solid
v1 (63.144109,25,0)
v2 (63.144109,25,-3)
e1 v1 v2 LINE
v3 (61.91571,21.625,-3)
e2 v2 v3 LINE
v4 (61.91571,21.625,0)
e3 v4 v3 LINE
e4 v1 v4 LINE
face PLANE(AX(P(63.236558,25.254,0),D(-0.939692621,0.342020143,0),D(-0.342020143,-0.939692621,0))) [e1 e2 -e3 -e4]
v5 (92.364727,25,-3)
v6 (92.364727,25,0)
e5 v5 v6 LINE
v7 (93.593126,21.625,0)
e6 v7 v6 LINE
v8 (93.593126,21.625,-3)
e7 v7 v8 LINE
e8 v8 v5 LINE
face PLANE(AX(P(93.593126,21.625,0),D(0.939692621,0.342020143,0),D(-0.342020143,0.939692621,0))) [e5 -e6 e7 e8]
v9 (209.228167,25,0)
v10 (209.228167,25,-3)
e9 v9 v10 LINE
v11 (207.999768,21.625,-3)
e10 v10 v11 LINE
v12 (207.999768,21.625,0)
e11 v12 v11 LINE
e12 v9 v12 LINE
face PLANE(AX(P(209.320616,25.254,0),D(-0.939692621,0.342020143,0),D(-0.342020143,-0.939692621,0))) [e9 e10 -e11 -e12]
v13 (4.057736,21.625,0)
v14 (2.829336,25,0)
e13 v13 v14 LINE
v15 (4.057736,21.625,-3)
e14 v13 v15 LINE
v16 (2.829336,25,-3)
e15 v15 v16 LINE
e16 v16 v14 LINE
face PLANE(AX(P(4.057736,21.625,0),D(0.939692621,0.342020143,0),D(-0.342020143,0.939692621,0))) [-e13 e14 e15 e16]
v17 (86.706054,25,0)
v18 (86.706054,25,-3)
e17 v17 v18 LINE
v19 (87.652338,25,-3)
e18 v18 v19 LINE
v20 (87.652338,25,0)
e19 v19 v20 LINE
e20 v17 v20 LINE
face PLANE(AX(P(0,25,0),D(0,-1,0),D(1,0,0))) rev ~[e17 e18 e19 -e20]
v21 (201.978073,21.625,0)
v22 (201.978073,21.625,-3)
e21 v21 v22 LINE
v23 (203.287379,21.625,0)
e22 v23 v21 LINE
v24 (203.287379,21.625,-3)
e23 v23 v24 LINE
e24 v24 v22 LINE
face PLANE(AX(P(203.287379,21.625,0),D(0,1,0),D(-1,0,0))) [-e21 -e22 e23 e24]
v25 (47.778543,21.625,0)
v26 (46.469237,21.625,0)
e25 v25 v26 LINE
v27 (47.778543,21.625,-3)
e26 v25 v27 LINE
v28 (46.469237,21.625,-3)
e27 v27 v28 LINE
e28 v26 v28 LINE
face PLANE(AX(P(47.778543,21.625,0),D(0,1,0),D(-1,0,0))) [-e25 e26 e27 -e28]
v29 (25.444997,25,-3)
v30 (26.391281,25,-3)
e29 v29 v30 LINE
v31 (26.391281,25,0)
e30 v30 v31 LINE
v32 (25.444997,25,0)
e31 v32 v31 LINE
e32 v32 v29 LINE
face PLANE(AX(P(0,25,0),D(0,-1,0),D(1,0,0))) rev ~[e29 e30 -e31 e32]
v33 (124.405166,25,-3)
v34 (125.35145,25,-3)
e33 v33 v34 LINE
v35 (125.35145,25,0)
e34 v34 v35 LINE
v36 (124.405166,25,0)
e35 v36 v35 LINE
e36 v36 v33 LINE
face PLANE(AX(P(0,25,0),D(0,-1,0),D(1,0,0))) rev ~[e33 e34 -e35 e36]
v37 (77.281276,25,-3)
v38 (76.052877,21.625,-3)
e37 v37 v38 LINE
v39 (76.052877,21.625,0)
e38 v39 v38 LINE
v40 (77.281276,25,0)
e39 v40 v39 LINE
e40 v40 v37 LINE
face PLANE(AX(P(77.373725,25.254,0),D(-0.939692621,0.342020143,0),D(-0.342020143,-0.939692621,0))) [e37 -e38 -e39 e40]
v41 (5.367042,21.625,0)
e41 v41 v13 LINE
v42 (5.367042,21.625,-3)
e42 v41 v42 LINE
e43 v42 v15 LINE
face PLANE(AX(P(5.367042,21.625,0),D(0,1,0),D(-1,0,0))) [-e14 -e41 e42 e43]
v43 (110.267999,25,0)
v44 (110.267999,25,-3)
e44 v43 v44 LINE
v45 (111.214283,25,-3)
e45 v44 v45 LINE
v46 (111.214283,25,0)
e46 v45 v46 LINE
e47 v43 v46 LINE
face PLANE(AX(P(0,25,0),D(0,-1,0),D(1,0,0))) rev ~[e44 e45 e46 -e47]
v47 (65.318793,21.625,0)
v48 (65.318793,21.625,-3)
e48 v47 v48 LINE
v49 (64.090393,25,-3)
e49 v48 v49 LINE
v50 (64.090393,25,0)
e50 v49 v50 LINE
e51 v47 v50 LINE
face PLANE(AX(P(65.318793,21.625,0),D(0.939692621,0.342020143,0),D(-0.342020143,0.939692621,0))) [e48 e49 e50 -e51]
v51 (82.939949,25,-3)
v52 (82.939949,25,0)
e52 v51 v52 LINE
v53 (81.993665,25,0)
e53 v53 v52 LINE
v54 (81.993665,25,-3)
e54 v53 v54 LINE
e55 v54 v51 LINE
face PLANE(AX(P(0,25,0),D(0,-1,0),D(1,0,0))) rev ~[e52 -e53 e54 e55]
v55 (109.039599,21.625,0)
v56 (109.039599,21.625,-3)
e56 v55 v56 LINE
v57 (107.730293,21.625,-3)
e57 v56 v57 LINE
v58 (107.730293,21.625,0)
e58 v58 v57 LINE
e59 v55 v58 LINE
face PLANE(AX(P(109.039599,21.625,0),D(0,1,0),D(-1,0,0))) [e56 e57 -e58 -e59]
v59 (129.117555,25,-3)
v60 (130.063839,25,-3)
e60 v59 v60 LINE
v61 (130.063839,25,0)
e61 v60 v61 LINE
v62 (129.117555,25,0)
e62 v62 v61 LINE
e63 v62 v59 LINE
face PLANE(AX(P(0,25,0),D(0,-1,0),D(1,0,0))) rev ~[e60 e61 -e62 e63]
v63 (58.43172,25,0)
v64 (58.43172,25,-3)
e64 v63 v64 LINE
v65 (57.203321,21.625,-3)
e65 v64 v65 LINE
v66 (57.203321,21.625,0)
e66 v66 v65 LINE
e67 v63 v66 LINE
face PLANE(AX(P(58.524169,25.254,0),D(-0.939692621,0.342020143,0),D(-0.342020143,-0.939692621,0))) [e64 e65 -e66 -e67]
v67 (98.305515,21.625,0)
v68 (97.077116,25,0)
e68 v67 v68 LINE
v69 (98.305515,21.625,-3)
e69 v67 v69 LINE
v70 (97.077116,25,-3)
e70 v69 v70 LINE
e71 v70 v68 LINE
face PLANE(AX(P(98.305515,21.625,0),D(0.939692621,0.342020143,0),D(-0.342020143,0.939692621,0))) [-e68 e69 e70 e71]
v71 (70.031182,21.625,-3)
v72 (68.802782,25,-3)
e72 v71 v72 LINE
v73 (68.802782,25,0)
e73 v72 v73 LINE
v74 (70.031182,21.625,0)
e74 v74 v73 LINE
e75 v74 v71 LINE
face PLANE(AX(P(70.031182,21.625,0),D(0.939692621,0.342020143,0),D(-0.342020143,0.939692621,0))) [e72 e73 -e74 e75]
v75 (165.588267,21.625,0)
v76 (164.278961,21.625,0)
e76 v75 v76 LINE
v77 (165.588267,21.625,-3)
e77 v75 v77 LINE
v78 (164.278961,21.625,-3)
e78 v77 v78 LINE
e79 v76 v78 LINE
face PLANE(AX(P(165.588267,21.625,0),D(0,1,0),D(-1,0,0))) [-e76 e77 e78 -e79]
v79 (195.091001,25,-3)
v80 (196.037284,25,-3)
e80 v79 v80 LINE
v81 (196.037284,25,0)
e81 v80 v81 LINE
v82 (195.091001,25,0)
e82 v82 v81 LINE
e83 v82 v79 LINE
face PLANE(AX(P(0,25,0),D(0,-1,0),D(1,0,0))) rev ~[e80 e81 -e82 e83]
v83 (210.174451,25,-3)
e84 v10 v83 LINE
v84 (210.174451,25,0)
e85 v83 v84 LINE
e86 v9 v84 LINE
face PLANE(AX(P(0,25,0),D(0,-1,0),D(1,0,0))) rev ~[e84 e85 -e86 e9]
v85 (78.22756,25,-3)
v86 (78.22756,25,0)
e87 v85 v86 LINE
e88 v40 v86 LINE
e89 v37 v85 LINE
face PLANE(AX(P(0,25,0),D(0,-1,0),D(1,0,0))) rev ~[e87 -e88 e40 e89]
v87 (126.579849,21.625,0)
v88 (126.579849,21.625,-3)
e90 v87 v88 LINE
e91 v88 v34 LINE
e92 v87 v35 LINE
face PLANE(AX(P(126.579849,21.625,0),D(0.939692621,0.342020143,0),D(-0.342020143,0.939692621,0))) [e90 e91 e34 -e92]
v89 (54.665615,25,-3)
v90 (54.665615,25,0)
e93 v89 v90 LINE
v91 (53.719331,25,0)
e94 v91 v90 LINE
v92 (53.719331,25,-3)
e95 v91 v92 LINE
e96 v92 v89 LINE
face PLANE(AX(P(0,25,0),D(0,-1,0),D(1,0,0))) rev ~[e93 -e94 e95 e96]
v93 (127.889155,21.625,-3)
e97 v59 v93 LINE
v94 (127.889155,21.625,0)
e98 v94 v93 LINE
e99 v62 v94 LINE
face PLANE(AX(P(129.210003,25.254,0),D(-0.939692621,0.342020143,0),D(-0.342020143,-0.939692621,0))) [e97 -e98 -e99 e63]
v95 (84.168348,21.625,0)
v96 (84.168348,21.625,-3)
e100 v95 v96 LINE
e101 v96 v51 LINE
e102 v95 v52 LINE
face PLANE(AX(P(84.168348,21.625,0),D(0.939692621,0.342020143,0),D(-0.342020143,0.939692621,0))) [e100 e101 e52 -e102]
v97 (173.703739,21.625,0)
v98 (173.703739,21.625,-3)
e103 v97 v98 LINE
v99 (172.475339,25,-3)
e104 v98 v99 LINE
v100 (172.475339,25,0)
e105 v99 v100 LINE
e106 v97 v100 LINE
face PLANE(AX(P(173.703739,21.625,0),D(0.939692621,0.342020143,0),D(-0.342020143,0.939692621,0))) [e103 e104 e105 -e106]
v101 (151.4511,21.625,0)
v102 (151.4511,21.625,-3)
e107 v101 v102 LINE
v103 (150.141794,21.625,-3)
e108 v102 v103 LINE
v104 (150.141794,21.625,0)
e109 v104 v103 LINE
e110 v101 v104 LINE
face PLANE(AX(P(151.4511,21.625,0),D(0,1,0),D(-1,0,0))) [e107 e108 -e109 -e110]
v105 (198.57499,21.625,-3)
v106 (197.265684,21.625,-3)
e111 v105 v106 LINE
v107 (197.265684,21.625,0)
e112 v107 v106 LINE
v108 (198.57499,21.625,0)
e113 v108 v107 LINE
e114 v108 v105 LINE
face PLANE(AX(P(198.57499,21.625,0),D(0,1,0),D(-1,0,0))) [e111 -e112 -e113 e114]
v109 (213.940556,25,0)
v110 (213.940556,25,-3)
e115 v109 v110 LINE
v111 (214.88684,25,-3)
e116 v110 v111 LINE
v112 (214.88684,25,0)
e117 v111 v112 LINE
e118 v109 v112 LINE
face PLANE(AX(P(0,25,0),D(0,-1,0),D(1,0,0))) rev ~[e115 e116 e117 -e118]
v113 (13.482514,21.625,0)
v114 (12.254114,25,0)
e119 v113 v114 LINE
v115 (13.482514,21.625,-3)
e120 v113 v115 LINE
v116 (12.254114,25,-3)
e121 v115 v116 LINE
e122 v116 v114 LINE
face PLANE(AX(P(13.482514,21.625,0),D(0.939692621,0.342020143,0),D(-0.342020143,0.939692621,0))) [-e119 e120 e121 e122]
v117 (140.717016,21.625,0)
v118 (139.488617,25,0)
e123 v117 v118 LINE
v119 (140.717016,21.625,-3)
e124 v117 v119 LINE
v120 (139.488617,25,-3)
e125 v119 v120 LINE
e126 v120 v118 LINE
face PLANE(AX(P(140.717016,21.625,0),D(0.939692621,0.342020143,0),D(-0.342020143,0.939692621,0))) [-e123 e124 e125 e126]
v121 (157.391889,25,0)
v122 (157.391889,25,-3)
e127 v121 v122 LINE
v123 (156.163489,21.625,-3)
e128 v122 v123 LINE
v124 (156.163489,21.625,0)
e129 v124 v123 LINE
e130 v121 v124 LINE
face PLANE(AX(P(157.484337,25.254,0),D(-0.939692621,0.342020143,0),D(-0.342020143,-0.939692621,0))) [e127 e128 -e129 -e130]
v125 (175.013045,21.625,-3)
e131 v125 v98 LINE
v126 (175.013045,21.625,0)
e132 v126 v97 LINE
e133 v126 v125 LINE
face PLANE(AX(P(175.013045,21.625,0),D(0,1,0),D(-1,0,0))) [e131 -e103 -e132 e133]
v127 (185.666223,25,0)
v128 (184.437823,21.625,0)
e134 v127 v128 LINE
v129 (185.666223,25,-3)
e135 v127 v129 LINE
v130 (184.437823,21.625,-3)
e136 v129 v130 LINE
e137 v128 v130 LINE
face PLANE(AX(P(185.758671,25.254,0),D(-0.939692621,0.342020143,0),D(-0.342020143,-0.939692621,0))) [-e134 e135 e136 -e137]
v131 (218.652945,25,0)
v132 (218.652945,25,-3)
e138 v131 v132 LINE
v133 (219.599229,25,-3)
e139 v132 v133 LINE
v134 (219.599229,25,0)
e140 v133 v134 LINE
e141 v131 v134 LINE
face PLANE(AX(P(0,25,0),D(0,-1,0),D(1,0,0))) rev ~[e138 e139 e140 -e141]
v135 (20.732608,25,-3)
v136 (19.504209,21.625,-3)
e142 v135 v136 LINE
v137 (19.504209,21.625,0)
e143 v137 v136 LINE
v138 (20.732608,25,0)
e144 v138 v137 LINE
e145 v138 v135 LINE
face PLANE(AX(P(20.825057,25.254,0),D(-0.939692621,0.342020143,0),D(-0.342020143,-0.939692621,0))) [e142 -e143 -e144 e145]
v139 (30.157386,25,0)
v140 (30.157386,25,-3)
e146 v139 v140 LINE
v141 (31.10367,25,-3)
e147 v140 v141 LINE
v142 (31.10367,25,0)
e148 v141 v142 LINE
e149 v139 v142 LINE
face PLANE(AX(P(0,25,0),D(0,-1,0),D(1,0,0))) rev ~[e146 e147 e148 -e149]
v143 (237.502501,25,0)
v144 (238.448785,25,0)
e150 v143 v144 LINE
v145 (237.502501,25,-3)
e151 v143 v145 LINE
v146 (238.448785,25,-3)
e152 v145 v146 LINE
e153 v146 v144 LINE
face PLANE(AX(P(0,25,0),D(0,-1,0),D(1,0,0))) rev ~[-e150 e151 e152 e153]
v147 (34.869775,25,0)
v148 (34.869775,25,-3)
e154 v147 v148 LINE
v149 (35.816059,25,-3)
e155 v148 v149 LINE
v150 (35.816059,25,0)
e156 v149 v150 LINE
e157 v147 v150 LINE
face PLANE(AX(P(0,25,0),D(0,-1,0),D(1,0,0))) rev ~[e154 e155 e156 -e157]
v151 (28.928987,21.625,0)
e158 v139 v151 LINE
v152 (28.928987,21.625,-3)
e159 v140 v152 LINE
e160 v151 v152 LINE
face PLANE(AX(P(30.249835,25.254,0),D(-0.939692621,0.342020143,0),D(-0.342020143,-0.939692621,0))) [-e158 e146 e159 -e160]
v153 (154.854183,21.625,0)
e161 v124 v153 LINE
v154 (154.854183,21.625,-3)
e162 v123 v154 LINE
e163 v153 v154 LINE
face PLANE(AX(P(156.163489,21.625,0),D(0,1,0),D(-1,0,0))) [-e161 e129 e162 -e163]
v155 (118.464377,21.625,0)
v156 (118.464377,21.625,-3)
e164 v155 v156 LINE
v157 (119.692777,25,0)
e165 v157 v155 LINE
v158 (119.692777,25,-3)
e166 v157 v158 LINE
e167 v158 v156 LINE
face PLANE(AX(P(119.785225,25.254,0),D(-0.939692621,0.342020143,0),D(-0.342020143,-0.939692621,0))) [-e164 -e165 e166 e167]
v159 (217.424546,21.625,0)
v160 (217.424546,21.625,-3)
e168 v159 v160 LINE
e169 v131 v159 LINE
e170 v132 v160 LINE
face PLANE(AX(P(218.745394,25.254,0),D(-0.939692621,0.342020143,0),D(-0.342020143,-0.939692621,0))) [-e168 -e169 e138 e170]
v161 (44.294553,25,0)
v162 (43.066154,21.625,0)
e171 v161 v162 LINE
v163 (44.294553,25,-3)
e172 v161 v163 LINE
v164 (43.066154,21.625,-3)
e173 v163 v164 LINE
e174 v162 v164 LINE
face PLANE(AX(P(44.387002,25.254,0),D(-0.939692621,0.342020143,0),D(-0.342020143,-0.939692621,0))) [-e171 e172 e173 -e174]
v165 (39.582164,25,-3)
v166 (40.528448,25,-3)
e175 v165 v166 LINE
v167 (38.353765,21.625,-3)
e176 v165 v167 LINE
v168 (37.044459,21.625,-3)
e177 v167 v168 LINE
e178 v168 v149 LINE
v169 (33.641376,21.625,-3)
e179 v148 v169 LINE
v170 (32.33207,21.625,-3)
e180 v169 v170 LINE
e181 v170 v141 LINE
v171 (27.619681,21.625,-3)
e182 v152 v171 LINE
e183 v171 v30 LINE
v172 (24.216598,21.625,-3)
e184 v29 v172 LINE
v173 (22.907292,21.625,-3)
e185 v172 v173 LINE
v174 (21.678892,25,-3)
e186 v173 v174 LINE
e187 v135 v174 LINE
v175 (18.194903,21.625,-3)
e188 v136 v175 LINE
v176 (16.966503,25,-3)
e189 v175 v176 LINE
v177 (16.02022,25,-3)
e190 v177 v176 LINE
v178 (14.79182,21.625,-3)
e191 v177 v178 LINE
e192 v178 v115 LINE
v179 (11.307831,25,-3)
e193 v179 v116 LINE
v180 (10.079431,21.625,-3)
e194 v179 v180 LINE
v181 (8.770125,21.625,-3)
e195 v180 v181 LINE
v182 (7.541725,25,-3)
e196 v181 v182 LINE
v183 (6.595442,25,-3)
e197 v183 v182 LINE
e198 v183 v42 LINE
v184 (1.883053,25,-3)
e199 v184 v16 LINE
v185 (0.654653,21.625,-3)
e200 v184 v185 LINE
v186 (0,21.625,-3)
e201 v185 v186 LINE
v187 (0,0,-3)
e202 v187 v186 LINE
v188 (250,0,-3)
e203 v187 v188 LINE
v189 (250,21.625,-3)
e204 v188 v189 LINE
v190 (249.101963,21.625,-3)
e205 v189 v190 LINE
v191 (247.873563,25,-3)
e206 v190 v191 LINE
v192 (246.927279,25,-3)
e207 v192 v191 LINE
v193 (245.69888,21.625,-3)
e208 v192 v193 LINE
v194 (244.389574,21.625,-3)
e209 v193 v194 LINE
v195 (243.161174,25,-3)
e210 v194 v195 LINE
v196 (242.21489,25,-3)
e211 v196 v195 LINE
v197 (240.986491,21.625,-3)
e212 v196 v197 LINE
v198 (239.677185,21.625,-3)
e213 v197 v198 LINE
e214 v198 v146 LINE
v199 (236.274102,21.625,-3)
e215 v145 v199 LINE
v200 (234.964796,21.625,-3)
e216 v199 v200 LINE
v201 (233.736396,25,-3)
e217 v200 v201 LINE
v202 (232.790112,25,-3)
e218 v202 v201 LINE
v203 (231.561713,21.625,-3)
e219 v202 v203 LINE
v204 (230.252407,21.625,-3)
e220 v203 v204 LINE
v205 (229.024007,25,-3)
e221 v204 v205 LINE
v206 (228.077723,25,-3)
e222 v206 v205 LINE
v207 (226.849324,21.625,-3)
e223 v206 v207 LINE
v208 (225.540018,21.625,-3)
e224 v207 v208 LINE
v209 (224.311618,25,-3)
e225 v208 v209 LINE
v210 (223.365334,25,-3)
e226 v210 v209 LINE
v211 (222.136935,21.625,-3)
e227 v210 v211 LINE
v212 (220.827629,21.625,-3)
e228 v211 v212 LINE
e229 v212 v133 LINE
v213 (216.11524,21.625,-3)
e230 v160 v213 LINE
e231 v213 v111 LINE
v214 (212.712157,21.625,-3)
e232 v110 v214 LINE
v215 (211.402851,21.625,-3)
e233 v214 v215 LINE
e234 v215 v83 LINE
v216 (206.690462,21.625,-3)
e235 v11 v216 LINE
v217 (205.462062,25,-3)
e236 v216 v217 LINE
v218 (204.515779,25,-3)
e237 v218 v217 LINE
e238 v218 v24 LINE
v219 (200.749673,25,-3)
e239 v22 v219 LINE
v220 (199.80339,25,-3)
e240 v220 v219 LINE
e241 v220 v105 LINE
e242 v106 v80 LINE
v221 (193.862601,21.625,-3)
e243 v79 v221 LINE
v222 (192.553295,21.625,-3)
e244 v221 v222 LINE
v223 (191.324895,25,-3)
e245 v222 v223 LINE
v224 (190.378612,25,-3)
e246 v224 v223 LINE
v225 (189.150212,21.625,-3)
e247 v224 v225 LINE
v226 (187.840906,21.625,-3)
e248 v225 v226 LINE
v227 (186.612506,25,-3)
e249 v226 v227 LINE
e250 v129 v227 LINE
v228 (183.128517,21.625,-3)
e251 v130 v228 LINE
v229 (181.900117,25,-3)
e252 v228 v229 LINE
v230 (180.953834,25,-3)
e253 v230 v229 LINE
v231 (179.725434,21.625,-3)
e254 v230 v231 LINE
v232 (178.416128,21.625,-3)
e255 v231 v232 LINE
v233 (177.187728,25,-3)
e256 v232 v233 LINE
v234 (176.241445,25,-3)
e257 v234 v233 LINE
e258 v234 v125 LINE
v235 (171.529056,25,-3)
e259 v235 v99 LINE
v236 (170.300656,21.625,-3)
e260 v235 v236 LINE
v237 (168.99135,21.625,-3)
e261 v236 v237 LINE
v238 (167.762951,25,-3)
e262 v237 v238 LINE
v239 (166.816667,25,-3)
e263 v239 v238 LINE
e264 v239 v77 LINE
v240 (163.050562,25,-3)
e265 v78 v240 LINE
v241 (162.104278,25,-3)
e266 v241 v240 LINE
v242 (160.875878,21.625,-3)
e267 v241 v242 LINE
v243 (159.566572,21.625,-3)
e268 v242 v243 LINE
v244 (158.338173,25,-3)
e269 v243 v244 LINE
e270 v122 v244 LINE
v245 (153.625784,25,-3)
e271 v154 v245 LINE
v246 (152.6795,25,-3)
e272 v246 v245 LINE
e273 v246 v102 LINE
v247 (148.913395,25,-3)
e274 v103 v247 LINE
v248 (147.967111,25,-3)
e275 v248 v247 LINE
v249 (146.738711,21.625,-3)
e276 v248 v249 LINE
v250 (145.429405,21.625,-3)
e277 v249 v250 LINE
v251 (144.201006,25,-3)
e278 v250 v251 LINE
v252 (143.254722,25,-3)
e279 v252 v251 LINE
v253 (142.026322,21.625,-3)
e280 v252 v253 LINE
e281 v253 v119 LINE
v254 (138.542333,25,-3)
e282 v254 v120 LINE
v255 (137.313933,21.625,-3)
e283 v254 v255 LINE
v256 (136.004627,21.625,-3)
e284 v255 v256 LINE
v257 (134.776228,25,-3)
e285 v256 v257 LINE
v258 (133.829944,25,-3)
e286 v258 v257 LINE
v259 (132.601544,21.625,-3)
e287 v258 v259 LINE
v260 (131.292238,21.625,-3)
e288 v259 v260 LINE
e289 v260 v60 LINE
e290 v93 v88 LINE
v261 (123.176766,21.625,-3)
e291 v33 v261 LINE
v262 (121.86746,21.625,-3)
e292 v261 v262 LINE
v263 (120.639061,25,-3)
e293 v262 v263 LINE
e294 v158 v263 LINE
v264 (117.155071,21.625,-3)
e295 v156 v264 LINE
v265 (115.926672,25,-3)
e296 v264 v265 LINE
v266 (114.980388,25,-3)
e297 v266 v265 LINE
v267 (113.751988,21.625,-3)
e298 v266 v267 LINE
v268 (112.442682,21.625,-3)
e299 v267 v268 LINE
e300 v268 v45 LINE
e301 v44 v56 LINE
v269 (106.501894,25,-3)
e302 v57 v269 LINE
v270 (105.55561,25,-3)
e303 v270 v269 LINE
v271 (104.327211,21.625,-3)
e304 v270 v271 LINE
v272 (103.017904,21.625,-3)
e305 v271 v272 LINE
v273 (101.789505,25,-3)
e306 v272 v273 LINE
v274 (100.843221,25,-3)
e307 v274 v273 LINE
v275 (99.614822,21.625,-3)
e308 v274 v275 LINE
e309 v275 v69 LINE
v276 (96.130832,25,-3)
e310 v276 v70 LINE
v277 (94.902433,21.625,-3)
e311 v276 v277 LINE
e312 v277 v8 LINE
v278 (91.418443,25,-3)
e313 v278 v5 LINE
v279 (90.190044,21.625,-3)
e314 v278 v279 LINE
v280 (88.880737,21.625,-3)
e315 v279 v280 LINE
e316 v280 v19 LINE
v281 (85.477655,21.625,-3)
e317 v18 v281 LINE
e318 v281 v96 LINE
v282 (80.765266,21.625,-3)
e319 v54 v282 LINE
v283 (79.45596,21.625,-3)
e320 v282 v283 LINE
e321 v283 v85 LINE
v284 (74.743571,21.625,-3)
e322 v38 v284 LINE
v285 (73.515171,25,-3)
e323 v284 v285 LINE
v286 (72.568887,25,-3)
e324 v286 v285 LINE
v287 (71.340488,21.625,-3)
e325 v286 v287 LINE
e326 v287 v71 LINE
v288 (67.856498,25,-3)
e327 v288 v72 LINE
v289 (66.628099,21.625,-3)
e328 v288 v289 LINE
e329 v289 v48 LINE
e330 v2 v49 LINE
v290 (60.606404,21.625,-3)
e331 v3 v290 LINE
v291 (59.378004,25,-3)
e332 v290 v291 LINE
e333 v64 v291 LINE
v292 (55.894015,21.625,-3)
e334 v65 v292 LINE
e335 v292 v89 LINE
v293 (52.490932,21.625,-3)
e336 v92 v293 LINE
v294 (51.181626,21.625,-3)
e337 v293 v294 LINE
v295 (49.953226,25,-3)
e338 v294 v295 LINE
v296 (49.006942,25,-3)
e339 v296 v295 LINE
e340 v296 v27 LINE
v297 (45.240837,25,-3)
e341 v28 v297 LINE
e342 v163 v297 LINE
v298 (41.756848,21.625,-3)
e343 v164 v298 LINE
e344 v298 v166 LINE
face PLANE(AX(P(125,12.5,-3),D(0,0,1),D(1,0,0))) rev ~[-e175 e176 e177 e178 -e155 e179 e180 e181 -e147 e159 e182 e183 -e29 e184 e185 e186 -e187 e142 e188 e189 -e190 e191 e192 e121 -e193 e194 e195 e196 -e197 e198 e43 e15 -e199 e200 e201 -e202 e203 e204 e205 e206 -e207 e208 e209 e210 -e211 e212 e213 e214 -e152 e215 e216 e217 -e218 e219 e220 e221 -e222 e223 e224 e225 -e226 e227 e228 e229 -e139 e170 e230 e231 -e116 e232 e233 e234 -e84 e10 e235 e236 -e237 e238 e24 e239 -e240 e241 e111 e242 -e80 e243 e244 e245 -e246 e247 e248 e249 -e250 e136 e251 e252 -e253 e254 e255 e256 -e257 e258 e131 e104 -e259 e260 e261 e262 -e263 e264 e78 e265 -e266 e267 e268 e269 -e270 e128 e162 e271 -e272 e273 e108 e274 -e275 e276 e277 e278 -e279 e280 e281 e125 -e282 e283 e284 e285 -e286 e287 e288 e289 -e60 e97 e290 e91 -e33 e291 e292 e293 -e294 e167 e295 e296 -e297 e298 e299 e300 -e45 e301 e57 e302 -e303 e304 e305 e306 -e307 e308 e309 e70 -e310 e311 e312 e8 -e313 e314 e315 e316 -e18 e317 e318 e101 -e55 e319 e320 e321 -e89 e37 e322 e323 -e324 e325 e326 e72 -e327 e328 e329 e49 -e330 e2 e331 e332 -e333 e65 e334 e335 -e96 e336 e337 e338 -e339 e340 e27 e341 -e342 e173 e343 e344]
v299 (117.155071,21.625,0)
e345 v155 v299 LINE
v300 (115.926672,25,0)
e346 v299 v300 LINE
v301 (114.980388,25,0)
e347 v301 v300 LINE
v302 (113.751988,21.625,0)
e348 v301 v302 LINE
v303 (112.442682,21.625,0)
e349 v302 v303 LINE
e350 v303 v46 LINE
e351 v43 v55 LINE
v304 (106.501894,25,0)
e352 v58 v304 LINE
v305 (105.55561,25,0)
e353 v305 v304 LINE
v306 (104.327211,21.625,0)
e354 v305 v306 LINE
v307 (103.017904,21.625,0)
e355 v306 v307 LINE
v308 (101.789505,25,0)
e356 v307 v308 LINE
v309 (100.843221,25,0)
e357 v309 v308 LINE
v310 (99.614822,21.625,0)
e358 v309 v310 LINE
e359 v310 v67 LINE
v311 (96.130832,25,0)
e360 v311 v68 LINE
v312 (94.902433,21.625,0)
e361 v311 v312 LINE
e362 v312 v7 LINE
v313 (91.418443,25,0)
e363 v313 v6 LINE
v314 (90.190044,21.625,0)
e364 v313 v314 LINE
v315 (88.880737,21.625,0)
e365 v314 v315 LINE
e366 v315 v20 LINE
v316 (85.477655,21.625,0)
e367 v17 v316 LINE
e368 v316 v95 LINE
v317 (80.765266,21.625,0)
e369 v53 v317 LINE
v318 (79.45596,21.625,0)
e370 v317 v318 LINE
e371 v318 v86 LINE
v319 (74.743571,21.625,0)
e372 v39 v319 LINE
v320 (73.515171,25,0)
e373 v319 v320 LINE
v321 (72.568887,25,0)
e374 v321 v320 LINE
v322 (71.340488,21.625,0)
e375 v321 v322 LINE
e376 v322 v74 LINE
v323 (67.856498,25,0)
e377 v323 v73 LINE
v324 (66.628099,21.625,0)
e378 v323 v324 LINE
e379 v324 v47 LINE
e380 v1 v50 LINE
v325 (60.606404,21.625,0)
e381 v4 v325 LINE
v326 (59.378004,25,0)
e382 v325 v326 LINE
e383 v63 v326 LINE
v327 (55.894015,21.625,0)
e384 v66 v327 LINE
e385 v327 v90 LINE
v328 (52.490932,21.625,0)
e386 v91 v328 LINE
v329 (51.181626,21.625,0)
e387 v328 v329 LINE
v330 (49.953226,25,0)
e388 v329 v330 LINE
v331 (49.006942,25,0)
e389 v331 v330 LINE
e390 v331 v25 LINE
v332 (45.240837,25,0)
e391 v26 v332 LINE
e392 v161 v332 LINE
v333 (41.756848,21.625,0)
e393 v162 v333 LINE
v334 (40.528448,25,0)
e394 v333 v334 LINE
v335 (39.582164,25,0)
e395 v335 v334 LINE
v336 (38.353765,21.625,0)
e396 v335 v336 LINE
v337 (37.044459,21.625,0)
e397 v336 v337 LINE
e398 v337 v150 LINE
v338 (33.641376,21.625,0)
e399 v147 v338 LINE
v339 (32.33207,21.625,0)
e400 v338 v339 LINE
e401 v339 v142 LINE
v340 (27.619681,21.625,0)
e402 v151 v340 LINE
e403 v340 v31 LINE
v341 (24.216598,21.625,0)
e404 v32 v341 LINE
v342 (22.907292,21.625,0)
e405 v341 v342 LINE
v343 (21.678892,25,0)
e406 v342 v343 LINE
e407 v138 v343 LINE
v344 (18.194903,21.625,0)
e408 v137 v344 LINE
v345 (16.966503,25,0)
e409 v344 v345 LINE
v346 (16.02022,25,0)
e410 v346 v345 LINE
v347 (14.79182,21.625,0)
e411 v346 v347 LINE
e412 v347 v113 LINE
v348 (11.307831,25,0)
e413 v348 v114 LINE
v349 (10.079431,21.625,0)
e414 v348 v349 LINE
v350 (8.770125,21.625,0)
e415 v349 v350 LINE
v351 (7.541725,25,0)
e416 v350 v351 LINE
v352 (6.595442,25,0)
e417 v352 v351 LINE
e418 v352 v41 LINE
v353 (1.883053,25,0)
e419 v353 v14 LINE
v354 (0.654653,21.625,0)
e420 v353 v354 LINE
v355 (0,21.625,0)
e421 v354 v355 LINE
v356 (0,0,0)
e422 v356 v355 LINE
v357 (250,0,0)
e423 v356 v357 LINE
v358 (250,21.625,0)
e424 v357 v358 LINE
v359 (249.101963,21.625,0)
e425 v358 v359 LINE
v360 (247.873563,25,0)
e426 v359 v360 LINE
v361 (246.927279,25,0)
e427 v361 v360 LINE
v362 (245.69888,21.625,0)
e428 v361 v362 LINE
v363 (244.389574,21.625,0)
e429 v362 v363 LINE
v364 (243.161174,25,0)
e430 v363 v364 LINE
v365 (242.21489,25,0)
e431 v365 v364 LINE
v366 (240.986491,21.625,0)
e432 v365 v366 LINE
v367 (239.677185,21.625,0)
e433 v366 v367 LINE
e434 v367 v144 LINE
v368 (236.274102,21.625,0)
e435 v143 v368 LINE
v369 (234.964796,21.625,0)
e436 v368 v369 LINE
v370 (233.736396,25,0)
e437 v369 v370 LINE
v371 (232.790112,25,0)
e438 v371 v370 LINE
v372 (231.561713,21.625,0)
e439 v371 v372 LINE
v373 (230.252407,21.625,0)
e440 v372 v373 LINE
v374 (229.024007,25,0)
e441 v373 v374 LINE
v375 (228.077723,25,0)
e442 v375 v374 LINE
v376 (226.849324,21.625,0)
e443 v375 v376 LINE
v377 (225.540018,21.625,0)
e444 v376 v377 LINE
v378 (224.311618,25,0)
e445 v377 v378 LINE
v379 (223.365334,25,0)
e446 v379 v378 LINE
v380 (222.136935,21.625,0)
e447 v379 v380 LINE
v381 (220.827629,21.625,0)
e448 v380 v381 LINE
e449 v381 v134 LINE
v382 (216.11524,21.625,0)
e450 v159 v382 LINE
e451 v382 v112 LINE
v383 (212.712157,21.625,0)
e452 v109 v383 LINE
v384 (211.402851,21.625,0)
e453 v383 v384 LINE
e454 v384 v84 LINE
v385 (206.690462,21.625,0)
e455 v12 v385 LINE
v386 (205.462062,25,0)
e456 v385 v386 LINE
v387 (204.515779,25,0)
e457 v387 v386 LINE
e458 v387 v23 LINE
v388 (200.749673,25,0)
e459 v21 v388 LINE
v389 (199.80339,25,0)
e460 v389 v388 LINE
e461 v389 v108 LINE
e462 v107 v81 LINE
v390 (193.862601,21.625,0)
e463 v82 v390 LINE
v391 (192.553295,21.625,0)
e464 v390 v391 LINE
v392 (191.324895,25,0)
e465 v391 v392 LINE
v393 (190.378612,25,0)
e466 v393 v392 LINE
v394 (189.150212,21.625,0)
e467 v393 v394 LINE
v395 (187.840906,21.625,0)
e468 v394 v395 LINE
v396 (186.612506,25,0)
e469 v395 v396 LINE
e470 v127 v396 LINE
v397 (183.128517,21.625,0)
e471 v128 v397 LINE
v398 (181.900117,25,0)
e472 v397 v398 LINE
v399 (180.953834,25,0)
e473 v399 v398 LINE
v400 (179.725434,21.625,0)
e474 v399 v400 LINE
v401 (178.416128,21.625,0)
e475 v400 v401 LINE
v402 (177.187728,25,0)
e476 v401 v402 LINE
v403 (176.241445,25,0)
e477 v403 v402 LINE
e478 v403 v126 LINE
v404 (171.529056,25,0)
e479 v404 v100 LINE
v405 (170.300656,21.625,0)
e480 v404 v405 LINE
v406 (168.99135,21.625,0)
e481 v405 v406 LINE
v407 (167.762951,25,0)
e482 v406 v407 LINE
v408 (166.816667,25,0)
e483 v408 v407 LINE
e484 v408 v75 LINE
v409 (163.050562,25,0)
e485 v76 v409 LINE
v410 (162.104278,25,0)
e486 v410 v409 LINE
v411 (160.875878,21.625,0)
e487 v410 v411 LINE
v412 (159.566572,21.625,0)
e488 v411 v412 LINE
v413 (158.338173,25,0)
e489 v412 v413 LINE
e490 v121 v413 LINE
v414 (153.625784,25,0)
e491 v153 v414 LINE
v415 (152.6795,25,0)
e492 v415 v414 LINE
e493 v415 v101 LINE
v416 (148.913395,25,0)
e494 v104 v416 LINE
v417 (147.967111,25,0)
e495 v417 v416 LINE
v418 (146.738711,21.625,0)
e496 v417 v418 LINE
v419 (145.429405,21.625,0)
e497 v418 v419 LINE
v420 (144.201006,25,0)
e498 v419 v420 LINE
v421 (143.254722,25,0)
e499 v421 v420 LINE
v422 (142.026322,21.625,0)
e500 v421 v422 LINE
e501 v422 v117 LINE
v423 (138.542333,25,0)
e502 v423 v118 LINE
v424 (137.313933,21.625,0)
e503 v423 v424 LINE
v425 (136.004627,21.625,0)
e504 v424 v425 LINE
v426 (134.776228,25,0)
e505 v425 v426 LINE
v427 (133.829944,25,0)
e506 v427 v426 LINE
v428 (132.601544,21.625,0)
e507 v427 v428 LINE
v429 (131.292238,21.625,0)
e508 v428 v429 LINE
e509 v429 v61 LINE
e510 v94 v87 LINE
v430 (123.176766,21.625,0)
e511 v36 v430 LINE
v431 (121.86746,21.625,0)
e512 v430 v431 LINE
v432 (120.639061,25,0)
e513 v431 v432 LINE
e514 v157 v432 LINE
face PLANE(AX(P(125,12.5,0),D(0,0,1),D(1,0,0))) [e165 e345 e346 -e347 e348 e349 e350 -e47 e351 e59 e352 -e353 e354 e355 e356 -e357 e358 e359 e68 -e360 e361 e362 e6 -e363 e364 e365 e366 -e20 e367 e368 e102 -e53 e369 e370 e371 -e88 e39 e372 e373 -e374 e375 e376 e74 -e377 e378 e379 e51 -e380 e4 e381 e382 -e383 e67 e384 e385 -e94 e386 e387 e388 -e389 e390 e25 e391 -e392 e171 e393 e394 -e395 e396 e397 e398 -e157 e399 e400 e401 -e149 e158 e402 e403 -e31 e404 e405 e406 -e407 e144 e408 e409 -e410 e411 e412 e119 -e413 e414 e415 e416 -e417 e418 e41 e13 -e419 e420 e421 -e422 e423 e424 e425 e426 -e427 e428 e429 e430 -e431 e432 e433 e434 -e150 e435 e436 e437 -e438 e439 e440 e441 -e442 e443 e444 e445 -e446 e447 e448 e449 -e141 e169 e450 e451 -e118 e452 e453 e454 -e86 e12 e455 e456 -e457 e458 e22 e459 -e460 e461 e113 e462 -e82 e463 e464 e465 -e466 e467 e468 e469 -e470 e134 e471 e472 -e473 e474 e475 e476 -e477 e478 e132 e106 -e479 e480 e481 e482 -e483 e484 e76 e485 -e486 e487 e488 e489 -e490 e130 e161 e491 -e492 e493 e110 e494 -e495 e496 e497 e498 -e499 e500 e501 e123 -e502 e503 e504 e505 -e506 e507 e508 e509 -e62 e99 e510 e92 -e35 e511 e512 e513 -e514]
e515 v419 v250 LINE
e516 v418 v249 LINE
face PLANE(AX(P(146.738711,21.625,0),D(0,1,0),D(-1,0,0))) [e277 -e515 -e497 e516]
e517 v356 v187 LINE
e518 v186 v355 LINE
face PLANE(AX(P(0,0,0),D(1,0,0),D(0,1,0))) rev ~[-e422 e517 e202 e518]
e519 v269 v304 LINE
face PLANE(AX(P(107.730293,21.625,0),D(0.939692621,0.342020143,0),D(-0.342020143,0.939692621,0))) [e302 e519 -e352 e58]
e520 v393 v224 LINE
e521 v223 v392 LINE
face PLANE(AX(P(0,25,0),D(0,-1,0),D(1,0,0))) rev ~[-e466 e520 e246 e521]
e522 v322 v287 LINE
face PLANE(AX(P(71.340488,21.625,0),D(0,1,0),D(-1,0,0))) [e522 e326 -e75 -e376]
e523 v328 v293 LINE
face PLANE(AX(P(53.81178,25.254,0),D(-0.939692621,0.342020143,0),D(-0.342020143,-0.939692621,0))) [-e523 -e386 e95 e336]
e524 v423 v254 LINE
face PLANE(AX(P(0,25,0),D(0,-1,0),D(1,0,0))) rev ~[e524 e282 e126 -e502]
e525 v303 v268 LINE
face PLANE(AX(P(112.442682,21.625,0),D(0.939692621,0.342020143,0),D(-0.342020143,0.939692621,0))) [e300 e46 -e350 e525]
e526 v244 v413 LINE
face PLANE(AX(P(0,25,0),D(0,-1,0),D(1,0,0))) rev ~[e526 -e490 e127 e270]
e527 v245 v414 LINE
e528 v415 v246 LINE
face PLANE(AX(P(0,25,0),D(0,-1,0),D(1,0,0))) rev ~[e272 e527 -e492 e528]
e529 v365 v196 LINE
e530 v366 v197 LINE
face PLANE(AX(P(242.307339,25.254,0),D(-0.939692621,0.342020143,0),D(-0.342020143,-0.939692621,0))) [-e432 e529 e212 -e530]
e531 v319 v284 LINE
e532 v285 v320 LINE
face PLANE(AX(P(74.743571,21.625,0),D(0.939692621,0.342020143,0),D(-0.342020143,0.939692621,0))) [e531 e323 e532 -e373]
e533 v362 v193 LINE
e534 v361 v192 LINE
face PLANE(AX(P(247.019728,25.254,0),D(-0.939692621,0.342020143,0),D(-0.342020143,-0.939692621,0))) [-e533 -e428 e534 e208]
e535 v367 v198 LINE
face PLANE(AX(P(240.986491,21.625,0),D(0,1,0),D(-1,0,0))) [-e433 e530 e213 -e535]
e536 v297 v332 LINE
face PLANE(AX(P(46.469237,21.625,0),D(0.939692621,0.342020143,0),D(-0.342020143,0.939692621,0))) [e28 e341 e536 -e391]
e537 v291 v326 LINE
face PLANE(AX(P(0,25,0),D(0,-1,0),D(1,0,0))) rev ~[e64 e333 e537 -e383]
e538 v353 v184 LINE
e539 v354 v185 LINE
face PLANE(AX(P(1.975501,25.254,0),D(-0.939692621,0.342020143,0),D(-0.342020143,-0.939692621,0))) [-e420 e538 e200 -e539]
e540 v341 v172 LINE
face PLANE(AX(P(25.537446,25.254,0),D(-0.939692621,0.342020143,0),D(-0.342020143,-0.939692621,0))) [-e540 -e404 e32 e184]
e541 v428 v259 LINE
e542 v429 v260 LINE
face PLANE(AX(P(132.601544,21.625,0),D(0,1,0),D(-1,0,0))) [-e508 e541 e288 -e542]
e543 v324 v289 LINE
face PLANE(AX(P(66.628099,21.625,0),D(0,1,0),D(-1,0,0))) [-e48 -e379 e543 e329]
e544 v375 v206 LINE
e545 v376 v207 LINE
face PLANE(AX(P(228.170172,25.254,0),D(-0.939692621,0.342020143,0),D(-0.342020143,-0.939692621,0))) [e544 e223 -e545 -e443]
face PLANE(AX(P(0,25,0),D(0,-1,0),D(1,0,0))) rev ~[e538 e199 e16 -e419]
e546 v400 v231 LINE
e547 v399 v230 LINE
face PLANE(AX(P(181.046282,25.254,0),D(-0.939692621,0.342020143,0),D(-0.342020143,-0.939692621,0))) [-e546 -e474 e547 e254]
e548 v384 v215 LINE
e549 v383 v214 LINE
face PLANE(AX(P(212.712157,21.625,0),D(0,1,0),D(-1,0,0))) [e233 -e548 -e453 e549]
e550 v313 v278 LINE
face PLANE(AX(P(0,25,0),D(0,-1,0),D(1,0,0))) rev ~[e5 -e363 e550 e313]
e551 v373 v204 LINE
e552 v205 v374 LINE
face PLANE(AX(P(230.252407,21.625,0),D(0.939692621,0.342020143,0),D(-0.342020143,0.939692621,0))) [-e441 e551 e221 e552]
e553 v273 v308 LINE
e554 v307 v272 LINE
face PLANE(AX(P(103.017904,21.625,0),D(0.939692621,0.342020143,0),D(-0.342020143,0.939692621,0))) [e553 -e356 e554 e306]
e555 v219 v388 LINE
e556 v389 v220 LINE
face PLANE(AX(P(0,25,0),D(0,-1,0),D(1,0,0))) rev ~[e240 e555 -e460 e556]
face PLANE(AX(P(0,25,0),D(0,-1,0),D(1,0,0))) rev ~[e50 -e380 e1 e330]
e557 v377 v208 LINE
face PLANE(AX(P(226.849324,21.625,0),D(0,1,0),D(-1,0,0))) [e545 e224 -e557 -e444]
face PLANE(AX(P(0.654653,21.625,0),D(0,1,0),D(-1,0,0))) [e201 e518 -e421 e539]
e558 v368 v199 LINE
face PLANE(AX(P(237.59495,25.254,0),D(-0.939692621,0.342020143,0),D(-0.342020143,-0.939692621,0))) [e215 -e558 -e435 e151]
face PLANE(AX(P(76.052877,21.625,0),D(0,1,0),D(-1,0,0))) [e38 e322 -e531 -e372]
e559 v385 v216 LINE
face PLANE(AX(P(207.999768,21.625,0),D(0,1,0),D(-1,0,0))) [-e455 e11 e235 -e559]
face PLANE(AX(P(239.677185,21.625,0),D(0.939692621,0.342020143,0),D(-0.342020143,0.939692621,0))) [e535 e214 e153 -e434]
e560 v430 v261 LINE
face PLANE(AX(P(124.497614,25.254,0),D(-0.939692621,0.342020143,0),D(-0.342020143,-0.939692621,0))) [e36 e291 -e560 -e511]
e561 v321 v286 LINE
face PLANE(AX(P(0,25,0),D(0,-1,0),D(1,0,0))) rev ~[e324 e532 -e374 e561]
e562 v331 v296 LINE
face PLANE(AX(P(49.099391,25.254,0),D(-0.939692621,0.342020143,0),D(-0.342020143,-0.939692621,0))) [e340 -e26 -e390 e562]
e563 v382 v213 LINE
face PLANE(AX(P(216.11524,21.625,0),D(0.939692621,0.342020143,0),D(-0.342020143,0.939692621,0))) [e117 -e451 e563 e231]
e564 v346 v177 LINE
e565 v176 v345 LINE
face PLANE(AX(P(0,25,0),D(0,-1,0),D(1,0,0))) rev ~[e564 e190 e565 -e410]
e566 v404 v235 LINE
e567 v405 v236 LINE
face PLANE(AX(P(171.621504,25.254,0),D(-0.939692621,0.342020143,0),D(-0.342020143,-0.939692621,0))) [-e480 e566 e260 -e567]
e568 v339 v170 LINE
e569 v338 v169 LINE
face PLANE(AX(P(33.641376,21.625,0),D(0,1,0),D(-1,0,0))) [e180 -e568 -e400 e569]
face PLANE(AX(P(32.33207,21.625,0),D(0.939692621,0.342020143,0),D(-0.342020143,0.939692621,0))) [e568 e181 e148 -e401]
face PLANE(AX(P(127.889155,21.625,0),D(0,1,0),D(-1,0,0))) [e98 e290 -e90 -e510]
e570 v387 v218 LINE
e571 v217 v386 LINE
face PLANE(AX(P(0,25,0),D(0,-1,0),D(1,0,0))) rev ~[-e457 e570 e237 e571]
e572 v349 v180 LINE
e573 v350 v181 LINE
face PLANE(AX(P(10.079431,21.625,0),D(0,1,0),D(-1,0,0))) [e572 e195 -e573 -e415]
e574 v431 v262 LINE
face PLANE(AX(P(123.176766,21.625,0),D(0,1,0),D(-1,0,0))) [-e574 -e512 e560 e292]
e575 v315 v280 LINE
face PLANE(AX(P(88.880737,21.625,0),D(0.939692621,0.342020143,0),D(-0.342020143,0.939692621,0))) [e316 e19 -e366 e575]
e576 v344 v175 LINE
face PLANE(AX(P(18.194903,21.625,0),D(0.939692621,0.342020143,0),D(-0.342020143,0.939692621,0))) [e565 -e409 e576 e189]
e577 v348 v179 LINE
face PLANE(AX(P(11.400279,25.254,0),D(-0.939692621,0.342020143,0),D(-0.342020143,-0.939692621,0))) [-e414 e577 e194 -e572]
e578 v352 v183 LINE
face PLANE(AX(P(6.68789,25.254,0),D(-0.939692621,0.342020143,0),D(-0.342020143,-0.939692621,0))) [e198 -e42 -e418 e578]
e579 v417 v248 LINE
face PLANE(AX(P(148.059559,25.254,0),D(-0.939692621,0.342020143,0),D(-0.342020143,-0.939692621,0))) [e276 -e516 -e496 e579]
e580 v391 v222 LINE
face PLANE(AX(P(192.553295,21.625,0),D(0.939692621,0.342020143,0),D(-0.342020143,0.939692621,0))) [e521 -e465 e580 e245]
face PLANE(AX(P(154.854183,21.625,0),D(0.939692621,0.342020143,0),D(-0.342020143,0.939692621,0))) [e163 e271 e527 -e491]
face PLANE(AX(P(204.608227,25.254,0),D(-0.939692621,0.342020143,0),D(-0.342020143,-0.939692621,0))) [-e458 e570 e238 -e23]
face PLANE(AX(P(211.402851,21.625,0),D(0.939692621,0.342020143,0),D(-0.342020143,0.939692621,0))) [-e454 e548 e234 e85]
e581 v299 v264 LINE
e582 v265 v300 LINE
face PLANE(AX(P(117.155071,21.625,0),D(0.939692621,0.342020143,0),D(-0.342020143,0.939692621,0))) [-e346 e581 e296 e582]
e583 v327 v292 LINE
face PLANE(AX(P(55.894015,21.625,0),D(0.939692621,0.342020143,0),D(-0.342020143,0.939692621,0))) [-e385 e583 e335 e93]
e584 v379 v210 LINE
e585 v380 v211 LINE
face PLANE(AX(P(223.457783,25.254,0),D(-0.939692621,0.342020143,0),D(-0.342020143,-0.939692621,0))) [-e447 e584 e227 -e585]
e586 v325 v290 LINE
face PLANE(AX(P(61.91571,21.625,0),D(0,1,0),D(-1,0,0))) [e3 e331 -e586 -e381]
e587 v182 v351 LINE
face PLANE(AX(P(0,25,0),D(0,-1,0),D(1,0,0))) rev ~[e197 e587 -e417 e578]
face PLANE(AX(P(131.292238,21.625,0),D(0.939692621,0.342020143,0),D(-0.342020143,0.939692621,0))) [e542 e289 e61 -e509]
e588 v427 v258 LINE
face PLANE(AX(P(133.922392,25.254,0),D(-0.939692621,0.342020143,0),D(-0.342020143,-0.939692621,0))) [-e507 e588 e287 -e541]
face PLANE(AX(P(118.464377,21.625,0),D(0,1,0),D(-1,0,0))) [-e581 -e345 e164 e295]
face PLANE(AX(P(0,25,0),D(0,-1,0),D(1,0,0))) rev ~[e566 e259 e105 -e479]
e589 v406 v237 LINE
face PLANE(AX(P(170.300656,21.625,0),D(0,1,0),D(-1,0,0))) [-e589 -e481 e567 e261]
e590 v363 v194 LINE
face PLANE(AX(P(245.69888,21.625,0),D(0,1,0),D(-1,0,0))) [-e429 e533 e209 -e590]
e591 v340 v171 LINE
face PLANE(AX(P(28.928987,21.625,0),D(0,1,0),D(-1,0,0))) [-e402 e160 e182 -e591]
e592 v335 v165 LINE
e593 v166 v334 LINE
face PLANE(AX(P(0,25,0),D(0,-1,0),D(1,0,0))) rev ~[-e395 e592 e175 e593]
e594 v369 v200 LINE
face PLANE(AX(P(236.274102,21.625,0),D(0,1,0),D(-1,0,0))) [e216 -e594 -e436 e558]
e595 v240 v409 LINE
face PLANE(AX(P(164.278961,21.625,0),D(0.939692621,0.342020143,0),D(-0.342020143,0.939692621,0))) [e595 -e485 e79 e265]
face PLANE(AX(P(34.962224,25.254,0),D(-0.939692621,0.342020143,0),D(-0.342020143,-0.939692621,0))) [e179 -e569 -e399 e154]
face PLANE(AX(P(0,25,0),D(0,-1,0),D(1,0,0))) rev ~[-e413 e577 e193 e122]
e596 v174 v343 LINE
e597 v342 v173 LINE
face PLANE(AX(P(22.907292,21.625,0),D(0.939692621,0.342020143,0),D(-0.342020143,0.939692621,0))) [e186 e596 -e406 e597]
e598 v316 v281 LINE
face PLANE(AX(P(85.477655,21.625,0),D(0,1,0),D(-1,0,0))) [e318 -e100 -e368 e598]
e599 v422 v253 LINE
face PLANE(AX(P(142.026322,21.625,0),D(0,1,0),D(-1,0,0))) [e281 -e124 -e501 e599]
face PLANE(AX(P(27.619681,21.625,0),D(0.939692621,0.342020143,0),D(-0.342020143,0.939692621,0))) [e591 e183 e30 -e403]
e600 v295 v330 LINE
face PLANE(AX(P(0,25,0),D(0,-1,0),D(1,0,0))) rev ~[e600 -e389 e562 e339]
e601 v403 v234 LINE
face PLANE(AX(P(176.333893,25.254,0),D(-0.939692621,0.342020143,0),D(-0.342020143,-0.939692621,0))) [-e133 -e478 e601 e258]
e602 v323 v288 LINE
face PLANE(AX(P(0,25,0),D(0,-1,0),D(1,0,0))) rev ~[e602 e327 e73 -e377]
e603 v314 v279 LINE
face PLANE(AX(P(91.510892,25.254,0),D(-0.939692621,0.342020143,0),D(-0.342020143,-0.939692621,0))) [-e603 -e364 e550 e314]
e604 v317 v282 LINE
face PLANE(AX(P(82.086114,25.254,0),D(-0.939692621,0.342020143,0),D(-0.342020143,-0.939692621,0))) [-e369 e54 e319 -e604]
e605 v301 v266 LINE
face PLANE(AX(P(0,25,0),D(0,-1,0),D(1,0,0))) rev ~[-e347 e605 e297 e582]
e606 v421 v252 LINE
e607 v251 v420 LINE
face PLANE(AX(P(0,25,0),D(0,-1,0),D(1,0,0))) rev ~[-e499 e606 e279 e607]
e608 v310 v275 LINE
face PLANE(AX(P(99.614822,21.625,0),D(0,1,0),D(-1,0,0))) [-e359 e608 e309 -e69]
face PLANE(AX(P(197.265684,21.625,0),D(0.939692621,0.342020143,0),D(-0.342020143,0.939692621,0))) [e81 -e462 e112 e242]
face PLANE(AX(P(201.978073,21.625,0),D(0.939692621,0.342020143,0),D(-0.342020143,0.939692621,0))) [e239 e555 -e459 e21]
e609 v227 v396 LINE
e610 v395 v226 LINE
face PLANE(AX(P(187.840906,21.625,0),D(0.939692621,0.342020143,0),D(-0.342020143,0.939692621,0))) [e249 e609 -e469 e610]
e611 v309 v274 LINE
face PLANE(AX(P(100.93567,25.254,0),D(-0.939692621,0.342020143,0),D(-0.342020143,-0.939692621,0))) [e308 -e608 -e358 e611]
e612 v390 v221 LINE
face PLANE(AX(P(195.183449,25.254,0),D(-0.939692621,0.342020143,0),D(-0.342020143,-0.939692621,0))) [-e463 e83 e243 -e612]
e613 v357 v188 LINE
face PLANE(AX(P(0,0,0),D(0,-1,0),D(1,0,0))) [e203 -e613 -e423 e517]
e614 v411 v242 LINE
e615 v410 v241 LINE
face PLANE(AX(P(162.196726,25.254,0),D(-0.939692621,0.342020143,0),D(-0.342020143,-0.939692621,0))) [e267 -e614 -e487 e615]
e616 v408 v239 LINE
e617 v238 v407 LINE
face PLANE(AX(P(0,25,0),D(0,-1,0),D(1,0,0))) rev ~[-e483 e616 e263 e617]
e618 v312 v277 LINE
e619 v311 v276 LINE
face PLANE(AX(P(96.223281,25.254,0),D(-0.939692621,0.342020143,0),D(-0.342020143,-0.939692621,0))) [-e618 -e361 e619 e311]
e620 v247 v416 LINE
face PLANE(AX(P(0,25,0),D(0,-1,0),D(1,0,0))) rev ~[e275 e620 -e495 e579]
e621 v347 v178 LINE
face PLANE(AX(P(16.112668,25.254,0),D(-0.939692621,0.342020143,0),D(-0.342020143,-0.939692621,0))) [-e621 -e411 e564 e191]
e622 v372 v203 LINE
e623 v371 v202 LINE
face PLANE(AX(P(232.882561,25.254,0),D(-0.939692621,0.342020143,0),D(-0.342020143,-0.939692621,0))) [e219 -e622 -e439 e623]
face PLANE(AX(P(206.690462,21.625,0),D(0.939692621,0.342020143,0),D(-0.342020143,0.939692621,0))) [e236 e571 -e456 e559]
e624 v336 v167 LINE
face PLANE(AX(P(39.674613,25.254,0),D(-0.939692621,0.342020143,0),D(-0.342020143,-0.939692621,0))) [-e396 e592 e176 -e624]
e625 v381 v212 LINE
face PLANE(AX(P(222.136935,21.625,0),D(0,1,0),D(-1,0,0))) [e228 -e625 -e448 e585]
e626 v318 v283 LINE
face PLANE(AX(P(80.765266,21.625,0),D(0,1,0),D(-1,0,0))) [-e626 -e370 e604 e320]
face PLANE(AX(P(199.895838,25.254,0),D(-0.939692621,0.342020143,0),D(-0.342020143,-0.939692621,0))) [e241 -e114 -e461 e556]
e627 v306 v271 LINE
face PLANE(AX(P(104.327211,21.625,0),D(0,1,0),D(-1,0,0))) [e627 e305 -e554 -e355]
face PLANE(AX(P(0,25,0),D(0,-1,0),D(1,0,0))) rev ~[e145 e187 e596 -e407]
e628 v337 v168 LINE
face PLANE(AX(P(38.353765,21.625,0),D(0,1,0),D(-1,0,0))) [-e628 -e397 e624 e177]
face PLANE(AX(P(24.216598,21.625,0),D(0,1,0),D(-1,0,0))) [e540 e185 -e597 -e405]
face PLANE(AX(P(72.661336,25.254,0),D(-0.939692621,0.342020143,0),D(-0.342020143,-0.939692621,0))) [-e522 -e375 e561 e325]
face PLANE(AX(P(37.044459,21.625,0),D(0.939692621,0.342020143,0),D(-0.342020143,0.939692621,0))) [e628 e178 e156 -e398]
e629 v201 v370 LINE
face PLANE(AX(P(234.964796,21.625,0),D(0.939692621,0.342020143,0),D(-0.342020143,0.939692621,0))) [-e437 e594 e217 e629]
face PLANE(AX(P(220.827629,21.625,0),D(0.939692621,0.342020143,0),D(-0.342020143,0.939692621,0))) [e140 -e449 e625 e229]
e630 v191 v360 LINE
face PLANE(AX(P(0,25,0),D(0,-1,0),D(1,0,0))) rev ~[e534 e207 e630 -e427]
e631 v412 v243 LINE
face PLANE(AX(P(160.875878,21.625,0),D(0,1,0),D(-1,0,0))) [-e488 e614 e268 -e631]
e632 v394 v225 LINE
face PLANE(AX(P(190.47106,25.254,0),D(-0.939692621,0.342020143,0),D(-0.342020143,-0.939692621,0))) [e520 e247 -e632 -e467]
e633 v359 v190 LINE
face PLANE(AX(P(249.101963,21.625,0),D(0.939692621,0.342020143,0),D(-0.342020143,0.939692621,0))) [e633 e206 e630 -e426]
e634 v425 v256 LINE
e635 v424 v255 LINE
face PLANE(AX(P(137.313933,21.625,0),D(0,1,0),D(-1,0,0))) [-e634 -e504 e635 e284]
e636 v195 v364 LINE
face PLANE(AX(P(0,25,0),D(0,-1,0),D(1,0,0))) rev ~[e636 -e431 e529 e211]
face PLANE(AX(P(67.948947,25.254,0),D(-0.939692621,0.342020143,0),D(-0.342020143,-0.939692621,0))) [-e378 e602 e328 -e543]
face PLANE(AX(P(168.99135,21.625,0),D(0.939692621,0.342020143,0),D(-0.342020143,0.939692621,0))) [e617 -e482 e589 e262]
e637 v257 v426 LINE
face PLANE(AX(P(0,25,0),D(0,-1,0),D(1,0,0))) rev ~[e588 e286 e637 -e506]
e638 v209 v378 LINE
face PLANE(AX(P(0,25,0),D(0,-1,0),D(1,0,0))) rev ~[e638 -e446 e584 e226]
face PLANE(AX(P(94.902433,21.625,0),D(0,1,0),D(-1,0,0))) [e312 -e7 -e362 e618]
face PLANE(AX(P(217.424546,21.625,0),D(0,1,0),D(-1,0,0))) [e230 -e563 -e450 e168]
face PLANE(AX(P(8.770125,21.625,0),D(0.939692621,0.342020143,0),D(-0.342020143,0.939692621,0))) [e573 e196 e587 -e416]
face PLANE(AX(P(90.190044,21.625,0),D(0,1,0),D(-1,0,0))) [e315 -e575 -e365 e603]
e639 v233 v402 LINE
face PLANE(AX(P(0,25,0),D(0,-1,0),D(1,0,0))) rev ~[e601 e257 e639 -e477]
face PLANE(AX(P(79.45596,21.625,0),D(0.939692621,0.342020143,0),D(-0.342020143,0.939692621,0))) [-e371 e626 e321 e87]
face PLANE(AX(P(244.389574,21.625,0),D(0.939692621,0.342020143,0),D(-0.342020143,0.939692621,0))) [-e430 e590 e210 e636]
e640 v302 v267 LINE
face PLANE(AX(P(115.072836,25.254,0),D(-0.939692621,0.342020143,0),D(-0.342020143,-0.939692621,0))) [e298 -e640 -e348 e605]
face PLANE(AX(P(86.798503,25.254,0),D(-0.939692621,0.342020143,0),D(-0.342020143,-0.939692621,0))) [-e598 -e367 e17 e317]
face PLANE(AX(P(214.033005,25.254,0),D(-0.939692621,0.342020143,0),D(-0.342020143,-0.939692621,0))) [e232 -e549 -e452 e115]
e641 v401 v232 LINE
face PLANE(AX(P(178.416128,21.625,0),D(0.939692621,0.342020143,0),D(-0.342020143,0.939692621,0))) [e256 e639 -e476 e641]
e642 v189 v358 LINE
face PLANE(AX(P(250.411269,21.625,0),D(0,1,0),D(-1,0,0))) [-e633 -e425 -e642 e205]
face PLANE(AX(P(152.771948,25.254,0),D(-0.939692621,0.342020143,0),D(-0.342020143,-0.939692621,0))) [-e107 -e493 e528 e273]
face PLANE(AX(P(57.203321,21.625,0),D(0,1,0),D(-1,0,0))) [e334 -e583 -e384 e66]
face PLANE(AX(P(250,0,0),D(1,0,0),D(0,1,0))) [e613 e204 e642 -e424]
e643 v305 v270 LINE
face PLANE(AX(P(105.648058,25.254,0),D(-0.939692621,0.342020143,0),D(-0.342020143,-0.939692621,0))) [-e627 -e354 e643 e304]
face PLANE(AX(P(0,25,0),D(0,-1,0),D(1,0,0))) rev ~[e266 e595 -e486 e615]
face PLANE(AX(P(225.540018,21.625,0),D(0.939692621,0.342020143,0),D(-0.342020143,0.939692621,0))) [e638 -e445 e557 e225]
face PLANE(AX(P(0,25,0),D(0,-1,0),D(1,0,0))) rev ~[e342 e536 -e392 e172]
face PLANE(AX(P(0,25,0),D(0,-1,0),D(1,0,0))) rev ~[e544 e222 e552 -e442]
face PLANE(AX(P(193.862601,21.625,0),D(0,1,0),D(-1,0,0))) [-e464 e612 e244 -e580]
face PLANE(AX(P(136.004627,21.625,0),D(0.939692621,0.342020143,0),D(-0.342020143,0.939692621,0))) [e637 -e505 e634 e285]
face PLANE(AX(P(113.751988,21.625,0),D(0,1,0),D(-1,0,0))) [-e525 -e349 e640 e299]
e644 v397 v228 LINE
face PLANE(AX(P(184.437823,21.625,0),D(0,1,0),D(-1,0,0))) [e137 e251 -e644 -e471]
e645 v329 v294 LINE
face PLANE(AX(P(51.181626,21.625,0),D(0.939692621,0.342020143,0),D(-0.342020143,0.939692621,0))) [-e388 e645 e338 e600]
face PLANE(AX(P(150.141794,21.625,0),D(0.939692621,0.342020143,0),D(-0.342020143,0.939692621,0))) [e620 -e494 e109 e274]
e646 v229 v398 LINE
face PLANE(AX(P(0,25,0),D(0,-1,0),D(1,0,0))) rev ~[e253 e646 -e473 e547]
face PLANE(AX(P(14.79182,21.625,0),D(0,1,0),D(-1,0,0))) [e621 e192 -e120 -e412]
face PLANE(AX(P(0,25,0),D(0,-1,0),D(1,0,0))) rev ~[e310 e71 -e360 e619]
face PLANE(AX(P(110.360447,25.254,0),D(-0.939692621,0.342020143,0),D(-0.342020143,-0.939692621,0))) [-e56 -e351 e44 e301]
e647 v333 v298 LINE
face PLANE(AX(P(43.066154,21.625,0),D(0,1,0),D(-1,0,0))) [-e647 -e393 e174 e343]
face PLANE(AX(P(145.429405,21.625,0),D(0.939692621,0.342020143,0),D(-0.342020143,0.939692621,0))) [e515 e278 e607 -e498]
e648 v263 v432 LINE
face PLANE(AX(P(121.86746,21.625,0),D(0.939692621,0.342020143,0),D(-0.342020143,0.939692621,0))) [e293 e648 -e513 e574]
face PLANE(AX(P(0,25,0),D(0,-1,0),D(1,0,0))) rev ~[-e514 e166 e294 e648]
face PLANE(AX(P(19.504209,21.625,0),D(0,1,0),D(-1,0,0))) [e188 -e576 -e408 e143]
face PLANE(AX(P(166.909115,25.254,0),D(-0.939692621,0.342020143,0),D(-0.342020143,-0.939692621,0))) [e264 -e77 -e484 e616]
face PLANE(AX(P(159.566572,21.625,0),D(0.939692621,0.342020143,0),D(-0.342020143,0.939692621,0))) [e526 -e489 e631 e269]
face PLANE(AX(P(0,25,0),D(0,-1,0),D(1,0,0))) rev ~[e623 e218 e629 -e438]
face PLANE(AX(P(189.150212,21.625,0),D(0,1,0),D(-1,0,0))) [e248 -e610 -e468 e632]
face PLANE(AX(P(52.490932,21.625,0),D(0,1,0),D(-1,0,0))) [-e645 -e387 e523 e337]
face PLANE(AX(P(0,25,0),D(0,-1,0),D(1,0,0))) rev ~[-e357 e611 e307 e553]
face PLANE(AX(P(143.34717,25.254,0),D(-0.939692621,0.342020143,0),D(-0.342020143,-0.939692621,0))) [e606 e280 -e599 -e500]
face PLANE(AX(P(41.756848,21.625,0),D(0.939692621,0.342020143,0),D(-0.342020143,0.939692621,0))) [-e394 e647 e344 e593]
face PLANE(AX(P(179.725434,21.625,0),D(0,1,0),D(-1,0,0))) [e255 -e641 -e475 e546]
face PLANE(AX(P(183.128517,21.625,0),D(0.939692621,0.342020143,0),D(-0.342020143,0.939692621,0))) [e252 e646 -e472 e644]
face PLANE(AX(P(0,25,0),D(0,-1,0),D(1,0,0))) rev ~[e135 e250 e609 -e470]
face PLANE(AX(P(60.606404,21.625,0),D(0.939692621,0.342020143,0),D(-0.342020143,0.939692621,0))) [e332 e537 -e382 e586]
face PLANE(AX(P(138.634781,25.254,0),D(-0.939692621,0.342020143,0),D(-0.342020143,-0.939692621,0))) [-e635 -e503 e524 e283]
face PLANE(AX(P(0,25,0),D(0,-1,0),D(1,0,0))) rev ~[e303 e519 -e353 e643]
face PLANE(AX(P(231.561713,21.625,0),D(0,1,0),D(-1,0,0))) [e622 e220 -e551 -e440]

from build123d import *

# Parameters (mm, degrees)
BLANKSKE_W        = 250
BLANKSKE_H        = 25
BLANK_DEPTH       = 3
TOOTHCUTSIM_DEPTH = 252.264800559
TEETHCUTS_COUNT   = 54
TEETHCUTS_PITCH   = 4.712388975


with BuildPart() as part:
    # BlankSke → Blank (new body)
    with BuildSketch(Plane.XY):
        with Locations((125, 12.5)):
            Rectangle(BLANKSKE_W, BLANKSKE_H)
    extrude(amount=-BLANK_DEPTH)

    # TooCutSkeSim → ToothCutSim (cut, through all)
    with BuildSketch(Plane.XY):
        Polygon((0.654653055, 21.625), (-0.654653055, 21.625), (-1.975501035, 25.254), (1.975501035, 25.254), align=None)
    toothcutsim = extrude(amount=-TOOTHCUTSIM_DEPTH, mode=Mode.SUBTRACT)

    # TeethCuts: ToothCutSim ×54
    with Locations(*[(i * TEETHCUTS_PITCH, 0, 0) for i in range(1, TEETHCUTS_COUNT)]):
        add(toothcutsim, mode=Mode.SUBTRACT)


solid = part.part
